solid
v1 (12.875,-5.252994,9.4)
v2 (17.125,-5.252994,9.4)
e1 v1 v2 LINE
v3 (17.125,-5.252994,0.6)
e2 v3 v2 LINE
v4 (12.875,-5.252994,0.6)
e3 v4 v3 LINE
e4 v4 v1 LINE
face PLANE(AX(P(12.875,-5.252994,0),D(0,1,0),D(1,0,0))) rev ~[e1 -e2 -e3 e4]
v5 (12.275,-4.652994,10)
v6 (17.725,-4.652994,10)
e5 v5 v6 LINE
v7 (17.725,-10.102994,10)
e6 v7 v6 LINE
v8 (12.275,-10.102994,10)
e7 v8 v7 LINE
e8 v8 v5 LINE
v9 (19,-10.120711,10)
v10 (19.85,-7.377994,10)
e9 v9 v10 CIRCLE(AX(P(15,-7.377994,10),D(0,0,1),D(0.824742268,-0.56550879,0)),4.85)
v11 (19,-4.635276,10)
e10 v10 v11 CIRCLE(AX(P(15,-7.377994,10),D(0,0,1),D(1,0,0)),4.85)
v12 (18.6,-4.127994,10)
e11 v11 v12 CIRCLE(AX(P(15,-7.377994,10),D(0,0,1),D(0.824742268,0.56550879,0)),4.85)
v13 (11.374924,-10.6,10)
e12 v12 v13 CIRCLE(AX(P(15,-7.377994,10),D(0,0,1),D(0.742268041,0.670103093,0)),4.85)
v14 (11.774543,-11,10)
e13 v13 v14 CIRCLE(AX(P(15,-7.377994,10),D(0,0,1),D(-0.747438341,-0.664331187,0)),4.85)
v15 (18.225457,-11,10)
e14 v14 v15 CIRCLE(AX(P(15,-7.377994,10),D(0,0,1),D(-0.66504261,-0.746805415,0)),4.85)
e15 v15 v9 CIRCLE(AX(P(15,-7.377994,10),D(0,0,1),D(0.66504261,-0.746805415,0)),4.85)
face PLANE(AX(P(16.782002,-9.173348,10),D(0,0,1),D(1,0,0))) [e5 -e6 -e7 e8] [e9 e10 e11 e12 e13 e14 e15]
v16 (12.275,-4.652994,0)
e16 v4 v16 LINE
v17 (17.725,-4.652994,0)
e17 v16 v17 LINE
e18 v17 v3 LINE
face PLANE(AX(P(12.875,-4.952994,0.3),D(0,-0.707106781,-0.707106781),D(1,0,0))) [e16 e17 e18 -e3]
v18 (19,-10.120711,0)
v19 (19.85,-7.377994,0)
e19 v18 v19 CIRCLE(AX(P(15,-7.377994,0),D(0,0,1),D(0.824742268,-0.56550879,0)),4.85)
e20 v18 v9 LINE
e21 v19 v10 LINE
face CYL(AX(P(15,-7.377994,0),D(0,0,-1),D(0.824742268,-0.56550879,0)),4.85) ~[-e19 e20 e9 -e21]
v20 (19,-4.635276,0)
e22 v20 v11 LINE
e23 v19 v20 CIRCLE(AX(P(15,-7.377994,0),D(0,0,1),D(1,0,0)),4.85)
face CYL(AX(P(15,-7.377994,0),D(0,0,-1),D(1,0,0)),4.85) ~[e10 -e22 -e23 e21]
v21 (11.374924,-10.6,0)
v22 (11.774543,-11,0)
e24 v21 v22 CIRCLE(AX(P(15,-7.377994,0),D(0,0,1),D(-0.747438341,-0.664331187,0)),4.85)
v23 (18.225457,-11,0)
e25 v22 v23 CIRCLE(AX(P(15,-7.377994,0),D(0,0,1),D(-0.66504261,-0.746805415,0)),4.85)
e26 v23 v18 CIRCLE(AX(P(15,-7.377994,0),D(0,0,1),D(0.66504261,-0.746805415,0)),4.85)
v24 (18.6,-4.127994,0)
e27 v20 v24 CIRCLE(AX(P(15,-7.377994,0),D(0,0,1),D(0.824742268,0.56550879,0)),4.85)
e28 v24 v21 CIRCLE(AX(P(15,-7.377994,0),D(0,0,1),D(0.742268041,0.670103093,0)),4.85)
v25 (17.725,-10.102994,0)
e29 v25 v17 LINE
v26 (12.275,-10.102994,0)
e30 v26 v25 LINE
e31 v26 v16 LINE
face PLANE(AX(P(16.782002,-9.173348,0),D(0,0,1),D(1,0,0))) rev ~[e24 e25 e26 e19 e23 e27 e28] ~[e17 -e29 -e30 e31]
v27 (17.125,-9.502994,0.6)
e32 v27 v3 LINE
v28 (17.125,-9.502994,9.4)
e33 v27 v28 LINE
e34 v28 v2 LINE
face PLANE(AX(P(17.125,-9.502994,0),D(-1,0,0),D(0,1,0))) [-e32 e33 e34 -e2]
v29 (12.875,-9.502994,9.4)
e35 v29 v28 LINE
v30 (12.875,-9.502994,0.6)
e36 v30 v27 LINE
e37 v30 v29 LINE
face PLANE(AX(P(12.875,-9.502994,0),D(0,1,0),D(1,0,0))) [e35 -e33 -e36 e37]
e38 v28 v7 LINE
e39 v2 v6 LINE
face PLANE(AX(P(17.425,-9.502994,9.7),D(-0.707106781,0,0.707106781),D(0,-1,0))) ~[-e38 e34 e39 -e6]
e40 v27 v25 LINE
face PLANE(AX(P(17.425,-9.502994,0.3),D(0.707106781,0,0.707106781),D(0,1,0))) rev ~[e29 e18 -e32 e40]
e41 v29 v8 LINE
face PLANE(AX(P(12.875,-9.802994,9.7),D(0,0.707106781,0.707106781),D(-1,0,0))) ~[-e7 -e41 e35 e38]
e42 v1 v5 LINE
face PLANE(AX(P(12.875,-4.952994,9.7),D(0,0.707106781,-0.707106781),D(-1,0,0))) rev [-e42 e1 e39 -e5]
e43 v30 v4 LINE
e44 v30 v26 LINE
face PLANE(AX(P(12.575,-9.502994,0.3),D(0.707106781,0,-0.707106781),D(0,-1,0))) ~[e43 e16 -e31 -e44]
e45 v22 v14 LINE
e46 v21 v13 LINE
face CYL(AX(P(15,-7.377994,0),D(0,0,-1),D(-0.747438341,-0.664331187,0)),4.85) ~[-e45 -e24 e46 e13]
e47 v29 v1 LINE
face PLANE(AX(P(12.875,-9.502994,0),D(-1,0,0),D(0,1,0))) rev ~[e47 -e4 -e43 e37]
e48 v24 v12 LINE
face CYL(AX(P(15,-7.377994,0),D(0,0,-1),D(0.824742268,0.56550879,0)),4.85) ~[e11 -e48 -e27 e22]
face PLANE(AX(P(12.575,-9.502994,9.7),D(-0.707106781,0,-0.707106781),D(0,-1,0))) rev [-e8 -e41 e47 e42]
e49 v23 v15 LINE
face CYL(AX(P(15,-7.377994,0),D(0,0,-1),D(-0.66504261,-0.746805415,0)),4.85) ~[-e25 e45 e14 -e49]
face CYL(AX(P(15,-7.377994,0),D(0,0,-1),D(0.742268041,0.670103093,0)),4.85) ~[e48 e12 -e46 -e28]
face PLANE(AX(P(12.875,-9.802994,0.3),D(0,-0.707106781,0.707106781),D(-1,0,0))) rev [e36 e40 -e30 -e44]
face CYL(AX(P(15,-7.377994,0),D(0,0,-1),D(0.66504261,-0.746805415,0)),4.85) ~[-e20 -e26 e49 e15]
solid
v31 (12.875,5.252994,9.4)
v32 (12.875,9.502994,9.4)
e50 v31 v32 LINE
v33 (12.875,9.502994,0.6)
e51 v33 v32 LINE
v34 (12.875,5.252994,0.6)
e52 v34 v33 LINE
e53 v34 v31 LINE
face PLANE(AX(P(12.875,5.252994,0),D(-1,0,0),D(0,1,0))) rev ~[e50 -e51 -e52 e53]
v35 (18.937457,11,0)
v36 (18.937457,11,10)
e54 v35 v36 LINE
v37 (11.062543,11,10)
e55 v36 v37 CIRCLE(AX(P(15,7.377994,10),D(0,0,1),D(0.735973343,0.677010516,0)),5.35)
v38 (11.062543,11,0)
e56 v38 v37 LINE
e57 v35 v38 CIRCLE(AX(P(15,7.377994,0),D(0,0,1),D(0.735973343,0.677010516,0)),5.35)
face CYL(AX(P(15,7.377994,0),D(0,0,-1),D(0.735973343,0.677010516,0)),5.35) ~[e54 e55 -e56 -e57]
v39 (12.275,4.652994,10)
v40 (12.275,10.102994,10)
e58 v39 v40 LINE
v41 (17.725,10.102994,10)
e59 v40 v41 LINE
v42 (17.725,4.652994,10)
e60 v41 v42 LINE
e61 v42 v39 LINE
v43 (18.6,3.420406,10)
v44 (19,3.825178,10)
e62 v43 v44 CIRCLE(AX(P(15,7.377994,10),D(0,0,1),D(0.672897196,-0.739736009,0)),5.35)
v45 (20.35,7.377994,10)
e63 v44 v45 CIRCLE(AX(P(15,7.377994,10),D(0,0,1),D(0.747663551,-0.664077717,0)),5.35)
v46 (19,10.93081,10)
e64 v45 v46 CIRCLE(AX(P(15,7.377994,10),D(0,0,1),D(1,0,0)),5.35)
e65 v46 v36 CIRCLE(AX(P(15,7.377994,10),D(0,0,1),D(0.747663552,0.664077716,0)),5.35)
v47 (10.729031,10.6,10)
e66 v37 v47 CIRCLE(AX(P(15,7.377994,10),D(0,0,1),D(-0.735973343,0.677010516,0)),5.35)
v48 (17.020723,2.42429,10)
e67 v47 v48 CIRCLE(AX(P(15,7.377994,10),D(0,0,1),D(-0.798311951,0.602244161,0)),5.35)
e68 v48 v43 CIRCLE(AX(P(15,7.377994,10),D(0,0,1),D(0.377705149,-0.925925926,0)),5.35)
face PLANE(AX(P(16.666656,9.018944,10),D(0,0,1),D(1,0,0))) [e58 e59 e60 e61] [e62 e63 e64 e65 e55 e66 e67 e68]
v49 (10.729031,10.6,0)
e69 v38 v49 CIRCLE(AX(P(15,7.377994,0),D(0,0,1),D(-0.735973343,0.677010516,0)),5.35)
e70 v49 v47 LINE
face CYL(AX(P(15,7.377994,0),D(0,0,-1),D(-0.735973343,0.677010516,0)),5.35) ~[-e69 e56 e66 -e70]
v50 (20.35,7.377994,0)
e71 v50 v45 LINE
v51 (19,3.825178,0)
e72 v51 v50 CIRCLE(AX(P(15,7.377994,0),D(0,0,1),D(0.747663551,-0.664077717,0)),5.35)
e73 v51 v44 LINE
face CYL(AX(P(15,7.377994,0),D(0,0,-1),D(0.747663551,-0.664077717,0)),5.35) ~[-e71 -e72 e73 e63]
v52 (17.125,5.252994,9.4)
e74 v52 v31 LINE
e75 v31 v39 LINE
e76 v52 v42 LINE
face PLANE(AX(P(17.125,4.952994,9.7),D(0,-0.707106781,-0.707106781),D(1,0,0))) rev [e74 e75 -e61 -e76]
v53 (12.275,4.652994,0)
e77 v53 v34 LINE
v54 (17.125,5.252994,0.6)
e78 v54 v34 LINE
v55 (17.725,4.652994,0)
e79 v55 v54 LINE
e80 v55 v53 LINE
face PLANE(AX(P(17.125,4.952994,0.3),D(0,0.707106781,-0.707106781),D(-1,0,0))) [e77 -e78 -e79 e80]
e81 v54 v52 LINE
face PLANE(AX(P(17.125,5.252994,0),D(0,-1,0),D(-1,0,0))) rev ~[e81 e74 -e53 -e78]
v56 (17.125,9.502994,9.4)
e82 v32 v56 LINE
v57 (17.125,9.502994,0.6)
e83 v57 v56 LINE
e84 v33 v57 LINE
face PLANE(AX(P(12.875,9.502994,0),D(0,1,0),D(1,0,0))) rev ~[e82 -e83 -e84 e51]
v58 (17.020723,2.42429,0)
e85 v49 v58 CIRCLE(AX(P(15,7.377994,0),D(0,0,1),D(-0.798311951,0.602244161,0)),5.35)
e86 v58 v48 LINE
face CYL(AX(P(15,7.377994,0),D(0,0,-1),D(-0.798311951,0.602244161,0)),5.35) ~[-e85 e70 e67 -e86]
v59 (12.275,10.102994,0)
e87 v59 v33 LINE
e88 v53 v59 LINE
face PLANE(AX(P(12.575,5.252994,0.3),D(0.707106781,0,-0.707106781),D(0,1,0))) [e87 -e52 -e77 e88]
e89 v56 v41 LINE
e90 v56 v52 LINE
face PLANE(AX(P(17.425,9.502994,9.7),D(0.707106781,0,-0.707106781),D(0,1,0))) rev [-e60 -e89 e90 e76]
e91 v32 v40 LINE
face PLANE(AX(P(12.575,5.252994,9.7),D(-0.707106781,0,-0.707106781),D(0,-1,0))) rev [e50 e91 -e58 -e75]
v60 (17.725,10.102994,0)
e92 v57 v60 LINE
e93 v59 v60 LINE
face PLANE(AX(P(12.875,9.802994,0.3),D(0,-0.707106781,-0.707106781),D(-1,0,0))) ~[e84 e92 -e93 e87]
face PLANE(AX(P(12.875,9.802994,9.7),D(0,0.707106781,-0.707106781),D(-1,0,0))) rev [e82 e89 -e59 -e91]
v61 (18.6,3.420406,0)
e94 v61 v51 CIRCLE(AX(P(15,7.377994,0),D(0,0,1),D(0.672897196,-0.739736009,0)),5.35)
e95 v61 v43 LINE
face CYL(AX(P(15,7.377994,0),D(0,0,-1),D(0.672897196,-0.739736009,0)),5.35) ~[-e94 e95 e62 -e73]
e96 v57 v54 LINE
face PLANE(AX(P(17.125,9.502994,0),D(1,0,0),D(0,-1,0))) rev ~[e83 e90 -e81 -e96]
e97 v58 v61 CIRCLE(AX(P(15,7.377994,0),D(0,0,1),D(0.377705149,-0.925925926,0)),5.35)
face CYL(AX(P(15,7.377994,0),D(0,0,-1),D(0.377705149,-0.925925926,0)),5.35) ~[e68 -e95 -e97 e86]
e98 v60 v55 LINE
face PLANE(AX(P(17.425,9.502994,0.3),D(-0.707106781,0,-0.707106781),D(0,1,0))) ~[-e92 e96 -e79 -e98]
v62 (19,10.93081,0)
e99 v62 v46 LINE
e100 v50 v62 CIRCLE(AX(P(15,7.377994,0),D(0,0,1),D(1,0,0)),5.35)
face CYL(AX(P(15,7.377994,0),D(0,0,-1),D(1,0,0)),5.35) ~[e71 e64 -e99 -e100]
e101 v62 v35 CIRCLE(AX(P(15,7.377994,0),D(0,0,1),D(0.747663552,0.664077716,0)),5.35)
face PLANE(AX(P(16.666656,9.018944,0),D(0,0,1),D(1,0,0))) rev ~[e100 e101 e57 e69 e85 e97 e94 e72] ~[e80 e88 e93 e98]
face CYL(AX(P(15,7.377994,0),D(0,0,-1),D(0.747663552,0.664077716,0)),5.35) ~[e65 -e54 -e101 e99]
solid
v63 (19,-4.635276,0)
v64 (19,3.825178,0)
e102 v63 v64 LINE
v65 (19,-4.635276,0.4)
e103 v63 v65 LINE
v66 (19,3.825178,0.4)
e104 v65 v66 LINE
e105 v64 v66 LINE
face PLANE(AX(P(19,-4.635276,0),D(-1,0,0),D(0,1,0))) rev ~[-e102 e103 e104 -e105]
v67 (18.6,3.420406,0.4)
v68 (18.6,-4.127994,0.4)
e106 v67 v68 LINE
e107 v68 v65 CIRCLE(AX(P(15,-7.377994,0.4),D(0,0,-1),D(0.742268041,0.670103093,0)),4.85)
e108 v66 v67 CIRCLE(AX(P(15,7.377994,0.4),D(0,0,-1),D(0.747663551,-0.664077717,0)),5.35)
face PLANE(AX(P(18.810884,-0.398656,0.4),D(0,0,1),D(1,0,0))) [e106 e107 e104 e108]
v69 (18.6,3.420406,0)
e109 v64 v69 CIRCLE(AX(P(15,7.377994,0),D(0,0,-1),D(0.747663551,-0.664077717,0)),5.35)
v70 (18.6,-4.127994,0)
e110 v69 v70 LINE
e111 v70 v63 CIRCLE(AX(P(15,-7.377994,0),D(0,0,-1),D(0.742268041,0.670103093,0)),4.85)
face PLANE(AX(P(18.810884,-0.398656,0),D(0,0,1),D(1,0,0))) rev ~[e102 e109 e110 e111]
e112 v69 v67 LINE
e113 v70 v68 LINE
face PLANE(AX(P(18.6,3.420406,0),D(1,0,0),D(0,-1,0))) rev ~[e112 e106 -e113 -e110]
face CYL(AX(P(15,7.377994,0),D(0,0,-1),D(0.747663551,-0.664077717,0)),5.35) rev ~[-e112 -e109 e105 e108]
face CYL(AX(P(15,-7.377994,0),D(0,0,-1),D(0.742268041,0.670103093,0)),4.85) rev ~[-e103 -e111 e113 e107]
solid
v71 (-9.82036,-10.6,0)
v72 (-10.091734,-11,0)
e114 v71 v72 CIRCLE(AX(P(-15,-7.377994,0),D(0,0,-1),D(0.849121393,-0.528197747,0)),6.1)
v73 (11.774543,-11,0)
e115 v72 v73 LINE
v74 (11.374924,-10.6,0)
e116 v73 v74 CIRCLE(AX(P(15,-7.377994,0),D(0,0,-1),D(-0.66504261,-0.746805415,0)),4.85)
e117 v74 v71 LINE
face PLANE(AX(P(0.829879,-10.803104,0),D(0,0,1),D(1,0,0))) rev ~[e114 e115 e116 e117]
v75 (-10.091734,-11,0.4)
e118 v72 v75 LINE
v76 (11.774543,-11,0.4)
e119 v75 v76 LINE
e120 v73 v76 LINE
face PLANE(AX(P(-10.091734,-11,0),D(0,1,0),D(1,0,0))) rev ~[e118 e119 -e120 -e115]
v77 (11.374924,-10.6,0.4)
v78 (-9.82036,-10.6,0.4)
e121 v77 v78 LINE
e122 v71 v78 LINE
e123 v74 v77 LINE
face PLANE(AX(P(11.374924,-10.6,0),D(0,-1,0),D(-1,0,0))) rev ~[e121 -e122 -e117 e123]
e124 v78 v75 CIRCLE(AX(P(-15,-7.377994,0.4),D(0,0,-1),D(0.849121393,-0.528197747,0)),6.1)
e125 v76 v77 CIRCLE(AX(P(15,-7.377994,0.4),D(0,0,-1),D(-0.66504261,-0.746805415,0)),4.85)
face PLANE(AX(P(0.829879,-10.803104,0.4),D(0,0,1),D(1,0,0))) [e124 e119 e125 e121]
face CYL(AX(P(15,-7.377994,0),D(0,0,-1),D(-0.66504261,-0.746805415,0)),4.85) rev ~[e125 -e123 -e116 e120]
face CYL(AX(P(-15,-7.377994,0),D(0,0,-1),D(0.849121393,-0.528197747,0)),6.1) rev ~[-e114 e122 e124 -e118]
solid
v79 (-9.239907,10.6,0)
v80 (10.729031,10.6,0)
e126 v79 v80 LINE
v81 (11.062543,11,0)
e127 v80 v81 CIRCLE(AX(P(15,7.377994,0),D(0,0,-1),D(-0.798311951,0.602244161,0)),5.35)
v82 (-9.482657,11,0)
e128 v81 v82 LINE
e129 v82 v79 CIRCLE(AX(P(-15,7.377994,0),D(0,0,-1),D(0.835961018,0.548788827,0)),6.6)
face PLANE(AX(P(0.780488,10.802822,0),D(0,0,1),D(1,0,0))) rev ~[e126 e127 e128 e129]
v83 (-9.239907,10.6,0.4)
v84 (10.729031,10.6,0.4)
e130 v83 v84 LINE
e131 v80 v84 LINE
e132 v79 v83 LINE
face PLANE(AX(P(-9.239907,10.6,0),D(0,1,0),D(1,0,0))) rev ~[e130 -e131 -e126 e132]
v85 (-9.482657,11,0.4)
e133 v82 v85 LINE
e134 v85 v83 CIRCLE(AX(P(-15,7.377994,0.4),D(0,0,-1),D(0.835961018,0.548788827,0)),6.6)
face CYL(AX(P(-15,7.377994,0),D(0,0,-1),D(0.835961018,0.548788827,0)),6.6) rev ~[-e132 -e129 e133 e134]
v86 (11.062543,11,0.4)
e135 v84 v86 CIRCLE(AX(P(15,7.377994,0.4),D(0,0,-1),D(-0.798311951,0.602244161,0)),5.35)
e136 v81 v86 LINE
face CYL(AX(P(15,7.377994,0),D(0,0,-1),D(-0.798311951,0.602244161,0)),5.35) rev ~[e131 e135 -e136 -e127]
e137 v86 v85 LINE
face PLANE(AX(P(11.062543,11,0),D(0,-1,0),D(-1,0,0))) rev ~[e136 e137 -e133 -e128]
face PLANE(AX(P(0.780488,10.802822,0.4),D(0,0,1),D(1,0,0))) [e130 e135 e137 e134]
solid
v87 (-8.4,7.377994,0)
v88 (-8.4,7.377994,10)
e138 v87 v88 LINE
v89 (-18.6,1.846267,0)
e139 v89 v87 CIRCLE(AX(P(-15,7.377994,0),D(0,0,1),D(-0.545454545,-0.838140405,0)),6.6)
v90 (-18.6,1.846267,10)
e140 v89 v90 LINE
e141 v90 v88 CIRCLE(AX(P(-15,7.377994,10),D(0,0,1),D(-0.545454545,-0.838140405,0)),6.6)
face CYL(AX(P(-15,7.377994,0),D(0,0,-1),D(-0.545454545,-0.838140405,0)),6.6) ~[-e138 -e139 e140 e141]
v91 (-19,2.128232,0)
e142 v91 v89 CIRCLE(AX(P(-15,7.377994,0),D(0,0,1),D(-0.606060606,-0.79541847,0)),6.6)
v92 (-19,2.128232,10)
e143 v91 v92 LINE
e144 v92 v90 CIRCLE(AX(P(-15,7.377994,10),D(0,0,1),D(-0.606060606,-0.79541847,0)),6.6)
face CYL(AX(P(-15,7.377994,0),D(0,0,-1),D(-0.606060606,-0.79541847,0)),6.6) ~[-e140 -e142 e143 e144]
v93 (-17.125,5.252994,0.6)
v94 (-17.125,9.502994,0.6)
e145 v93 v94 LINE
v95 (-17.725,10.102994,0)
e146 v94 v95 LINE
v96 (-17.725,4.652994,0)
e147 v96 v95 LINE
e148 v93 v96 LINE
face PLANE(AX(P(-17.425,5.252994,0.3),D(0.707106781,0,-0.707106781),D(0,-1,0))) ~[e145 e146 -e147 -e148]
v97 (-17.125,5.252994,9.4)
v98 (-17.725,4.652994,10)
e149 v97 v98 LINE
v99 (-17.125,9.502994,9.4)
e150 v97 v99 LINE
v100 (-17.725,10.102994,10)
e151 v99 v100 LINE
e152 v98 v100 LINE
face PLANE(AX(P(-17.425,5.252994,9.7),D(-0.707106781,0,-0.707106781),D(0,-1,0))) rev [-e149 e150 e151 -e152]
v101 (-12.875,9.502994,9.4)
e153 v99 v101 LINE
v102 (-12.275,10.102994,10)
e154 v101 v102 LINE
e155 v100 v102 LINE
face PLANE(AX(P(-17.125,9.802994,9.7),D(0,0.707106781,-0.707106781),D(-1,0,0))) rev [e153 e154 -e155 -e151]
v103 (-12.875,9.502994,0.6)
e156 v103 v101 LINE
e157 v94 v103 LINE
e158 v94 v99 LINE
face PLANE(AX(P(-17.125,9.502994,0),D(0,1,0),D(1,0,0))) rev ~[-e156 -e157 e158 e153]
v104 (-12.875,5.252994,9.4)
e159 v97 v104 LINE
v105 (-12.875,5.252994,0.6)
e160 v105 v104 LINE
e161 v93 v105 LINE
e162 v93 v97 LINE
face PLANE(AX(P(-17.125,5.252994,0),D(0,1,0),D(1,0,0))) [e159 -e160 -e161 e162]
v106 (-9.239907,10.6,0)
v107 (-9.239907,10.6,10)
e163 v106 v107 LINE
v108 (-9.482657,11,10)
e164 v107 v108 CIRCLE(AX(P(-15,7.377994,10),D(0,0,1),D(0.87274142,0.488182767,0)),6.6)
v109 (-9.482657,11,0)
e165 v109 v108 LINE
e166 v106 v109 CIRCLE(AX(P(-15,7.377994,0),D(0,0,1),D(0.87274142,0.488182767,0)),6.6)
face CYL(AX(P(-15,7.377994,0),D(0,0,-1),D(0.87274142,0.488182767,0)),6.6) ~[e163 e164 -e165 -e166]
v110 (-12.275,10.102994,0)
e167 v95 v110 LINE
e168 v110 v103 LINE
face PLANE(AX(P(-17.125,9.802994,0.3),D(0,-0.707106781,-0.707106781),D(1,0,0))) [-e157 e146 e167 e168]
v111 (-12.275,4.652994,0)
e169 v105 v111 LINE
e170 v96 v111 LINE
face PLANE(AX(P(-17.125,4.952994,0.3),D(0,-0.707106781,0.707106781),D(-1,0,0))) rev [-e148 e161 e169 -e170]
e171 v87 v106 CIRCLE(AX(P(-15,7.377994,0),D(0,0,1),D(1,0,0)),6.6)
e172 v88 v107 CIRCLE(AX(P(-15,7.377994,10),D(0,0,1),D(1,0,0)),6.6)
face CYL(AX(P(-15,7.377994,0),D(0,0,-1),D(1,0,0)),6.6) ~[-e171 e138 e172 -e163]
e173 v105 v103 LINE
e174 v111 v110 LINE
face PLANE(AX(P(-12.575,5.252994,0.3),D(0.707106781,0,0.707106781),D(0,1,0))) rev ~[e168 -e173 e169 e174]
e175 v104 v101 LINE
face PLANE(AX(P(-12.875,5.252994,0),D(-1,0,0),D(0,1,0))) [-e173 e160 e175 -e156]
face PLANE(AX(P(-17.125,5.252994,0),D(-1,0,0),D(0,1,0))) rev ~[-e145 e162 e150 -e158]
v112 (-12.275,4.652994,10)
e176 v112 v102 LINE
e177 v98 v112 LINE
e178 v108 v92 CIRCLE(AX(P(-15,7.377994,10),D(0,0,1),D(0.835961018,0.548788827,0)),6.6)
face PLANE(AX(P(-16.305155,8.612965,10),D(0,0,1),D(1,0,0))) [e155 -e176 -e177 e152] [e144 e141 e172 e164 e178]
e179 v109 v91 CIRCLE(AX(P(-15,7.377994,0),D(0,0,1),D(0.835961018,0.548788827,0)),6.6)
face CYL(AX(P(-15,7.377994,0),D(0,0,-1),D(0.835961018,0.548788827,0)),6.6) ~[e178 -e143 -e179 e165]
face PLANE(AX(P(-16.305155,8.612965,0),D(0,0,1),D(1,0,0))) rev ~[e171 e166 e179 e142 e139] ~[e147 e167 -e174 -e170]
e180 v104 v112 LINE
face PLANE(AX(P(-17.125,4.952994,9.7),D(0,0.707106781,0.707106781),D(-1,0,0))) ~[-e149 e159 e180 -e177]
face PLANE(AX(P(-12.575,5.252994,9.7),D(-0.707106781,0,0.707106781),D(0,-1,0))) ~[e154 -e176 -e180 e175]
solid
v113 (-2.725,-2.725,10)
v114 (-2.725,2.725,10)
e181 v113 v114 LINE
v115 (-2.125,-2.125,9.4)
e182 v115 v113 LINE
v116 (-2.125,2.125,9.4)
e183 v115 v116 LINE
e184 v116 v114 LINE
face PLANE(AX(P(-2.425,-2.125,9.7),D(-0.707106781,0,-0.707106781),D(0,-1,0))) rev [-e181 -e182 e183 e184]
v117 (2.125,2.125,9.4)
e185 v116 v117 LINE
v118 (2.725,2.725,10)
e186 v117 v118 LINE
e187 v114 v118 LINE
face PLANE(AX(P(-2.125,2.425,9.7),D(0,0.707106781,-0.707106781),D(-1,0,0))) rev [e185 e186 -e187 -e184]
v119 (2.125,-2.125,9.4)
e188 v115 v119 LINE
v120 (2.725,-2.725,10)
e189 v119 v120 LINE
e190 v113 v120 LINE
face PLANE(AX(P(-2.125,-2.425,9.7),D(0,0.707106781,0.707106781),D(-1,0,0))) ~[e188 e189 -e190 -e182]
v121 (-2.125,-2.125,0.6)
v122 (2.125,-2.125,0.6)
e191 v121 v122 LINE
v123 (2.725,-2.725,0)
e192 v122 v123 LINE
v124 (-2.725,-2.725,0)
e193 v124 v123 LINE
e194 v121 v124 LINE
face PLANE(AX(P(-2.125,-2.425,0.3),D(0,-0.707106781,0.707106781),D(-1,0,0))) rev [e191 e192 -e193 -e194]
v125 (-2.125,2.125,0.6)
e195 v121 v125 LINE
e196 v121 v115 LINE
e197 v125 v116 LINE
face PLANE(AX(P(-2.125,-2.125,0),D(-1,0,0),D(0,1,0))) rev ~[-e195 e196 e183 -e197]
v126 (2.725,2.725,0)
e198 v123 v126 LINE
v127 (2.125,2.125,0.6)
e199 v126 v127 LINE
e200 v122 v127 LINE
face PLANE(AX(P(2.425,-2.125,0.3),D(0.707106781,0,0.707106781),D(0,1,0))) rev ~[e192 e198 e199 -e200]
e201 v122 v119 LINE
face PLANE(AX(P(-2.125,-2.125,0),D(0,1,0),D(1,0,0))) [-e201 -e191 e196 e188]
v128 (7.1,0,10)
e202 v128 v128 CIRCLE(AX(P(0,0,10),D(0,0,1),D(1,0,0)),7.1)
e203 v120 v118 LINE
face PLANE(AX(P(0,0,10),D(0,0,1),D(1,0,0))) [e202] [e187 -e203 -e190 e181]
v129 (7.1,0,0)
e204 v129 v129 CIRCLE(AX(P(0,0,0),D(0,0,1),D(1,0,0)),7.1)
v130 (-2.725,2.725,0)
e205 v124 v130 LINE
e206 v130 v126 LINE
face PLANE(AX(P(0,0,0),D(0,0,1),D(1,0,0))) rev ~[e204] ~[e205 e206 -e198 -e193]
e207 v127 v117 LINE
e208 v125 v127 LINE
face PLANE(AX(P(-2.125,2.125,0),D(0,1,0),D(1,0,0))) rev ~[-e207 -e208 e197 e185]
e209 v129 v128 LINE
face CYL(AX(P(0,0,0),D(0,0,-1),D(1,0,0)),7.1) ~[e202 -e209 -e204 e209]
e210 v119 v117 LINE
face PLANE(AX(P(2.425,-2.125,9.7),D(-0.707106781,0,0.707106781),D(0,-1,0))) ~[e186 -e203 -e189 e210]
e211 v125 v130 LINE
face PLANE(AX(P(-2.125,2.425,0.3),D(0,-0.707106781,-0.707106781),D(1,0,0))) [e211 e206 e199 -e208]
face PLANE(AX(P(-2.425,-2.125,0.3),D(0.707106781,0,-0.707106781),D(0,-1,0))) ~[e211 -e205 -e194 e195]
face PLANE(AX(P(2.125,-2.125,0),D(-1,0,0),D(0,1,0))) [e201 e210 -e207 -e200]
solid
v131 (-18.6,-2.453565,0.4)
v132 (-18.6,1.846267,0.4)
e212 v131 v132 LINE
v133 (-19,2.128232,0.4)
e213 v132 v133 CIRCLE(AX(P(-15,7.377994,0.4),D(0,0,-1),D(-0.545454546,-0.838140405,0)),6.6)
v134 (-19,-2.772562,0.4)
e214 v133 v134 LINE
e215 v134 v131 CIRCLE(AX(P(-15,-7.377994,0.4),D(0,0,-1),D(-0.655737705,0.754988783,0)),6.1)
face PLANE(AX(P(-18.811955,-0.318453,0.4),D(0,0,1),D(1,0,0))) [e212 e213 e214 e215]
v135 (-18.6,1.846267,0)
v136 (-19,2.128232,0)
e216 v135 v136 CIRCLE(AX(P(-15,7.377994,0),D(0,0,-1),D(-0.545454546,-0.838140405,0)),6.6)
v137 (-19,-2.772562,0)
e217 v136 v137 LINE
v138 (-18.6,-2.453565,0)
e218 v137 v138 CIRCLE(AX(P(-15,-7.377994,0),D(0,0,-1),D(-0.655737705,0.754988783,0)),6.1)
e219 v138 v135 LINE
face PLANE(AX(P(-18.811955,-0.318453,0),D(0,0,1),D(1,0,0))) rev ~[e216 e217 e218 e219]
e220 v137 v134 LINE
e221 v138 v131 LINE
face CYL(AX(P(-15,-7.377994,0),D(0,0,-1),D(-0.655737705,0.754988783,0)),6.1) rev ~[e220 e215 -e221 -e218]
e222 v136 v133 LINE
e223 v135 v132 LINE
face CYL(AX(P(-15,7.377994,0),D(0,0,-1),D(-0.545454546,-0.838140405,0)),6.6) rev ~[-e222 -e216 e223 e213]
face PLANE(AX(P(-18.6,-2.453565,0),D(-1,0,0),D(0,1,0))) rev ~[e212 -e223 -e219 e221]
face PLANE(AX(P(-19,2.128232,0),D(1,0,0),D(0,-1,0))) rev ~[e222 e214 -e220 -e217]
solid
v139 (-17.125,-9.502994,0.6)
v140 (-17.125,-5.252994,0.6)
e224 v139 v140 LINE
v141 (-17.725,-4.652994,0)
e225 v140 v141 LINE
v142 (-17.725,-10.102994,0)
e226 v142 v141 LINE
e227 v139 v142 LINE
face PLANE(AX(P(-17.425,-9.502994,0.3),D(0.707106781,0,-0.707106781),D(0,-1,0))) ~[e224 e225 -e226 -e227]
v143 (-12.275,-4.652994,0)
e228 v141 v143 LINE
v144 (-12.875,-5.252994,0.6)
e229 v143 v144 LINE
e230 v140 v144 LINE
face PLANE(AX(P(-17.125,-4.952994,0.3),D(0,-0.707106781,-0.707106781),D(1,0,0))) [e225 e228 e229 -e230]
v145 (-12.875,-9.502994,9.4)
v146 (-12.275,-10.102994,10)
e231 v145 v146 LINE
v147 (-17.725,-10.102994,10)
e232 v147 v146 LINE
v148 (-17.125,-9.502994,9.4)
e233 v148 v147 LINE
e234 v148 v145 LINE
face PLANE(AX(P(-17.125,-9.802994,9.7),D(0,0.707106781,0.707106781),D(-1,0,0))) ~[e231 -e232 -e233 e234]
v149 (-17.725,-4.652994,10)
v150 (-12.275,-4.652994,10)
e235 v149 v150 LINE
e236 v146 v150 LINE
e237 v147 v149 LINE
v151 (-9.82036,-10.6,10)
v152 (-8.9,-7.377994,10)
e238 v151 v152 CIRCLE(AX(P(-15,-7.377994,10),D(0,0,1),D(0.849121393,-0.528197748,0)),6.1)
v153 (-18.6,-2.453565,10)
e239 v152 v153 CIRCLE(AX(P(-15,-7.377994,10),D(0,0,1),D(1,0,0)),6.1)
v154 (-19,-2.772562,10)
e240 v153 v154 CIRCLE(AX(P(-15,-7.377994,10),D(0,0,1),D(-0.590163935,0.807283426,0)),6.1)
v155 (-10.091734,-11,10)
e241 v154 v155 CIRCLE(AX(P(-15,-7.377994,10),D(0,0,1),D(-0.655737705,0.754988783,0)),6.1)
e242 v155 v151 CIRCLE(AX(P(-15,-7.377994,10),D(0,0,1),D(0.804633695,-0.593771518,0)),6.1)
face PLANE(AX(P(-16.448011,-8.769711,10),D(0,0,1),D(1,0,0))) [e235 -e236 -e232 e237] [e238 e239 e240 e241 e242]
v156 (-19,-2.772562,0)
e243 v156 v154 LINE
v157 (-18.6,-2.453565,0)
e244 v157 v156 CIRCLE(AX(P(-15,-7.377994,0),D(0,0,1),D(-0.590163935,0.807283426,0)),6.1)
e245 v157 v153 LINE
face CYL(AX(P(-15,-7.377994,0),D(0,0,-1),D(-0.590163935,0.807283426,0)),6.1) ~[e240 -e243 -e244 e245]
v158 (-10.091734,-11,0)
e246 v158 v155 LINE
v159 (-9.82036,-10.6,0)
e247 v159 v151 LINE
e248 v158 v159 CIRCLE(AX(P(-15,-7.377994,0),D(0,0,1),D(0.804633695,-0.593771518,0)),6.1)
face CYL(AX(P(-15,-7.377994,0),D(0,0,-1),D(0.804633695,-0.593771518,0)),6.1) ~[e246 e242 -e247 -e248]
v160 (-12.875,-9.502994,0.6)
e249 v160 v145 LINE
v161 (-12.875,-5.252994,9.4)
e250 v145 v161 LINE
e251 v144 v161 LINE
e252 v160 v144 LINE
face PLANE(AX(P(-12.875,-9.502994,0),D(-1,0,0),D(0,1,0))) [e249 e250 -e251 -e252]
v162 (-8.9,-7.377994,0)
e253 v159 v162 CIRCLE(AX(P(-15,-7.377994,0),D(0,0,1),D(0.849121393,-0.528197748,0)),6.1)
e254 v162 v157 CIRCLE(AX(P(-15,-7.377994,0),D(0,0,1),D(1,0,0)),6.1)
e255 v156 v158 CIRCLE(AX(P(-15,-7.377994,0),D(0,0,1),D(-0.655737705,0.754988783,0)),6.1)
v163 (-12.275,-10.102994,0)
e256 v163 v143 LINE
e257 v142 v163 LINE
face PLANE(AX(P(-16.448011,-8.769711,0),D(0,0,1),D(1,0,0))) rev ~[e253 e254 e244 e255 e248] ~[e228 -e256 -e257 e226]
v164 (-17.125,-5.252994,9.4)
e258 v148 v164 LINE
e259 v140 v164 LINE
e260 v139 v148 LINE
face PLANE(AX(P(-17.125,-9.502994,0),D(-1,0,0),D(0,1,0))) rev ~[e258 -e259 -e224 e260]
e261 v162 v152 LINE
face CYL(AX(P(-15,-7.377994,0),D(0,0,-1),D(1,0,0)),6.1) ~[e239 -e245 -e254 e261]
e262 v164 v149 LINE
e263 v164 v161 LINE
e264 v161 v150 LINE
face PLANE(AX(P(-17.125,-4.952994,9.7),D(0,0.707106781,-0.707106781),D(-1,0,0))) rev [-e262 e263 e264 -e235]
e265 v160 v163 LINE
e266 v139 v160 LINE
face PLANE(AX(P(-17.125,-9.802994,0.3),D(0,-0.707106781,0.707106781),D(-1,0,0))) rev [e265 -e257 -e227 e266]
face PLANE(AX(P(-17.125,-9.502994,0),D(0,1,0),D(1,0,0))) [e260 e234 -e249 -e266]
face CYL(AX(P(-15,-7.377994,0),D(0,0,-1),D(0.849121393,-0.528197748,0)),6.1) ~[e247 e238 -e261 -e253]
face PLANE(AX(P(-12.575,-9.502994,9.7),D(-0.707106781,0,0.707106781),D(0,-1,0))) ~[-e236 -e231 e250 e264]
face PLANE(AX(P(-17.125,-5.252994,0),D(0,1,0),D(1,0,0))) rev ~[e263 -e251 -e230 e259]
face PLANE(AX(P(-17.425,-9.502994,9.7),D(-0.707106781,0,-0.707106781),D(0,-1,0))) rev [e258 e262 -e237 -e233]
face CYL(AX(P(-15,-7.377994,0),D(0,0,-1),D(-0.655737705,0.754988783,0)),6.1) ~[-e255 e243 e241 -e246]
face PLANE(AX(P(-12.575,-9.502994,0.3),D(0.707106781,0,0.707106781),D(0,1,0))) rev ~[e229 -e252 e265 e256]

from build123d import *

# Parameters (mm, degrees)
F0_W      = 4.25
F0_H      = 4.25
F1_DEPTH  = 10
F0_R      = 7.1
F2_SIZE   = 0.6
F2_2_SIZE = 0.6
F2_3_SIZE = 0.6
F2_4_SIZE = 0.6
F2_5_SIZE = 0.6
F3_SIZE   = 0.6
F3_2_SIZE = 0.6
F3_3_SIZE = 0.6
F3_4_SIZE = 0.6
F3_5_SIZE = 0.6
F4_DEPTH  = 0.4


with BuildPart() as f1:
    # F0 (on Top) → F1 (new body)
    with BuildSketch(Plane.XY):
        with BuildLine():
            ThreePointArc((19, -4.6352761092), (18.8084555729, -4.3749675743), (18.6, -4.1279937396))
            Line((18.6, -4.1279937396), (18.6, -10.6))
            Line((18.6, -10.6), (11.374924048, -10.6))
            ThreePointArc((11.374924048, -10.6), (11.5688997014, -10.8058284412), (11.7745433424, -11))
            Line((11.7745433424, -11), (18.2254566576, -11))
            ThreePointArc((18.2254566576, -11), (18.6393808679, -10.5838332395), (19, -10.12071137))
            Line((19, -10.12071137), (19, -4.6352761092))
        make_face()
        with BuildLine():
            Line((18.2254566576, -11), (11.7745433424, -11))
            ThreePointArc((11.7745433424, -11), (15, -12.2279937396), (18.2254566576, -11))
        make_face()
        with BuildLine():
            ThreePointArc((19.85, -7.3779937396), (19.6326288433, -5.9422883381), (19, -4.6352761092))
            Line((19, -4.6352761092), (19, -10.12071137))
            ThreePointArc((19, -10.12071137), (19.6326288433, -8.8136991412), (19.85, -7.3779937396))
        make_face()
        with BuildLine():
            Line((18.6, -10.6), (18.6, -4.1279937396))
            ThreePointArc((18.6, -4.1279937396), (11.7639725806, -3.7654286481), (11.374924048, -10.6))
            Line((11.374924048, -10.6), (18.6, -10.6))
        make_face()
        with Locations((15, -7.3779937396)):
            Rectangle(F0_W, F0_H, mode=Mode.SUBTRACT)
    extrude(amount=F1_DEPTH)

    # F2#2
    f2_2_edges = [f1.edges().sort_by_distance(p)[0] for p in [
        (12.875, -7.377994, 10),
        (15, -5.252994, 10),
        (17.125, -7.377994, 10),
        (15, -9.502994, 10),
    ]]
    chamfer(f2_2_edges, length=F2_2_SIZE)

    # F3#5
    f3_5_edges = [f1.edges().sort_by_distance(p)[0] for p in [
        (12.875, -7.377994, 0),
        (15, -9.502994, 0),
        (17.125, -7.377994, 0),
        (15, -5.252994, 0),
    ]]
    chamfer(f3_5_edges, length=F3_5_SIZE)


with BuildPart() as f1b:
    # F0 (on Top) → F1, piece 2 (new body)
    with BuildSketch(Plane.XY):
        with BuildLine():
            Line((-18.6, 10.6), (-9.2399066277, 10.6))
            ThreePointArc((-9.2399066277, 10.6), (-9.357736165, 10.8021518575), (-9.4826572836, 11))
            Line((-9.4826572836, 11), (-19, 11))
            Line((-19, 11), (-19, 2.1282318403))
            ThreePointArc((-19, 2.1282318403), (-18.8026143682, 1.9835406657), (-18.6, 1.8462670652))
            Line((-18.6, 1.8462670652), (-18.6, 10.6))
        make_face()
        with BuildLine():
            Line((-19, 11), (-9.4826572836, 11))
            ThreePointArc((-9.4826572836, 11), (-19.5002944126, 12.2057623961), (-19, 2.1282318403))
            Line((-19, 2.1282318403), (-19, 11))
        make_face()
        with BuildLine():
            ThreePointArc((-18.6, 1.8462670652), (-11.8535734555, 1.5762698579), (-8.4, 7.3779937396))
            ThreePointArc((-8.4, 7.3779937396), (-8.6134275132, 9.0428336332), (-9.2399066277, 10.6))
            Line((-9.2399066277, 10.6), (-18.6, 10.6))
            Line((-18.6, 10.6), (-18.6, 1.8462670652))
        make_face()
        with Locations((-15, 7.3779937396)):
            Rectangle(F0_W, F0_H, mode=Mode.SUBTRACT)
    extrude(amount=F1_DEPTH)

    # F2#5
    f2_5_edges = [f1b.edges().sort_by_distance(p)[0] for p in [
        (-17.125, 7.377994, 10),
        (-15, 5.252994, 10),
        (-12.875, 7.377994, 10),
        (-15, 9.502994, 10),
    ]]
    chamfer(f2_5_edges, length=F2_5_SIZE)

    # F3
    f3_edges = [f1b.edges().sort_by_distance(p)[0] for p in [
        (-15, 5.252994, 0),
        (-17.125, 7.377994, 0),
        (-15, 9.502994, 0),
        (-12.875, 7.377994, 0),
    ]]
    chamfer(f3_edges, length=F3_SIZE)


with BuildPart() as f1c:
    # F0 (on Top) → F1, piece 3 (new body)
    with BuildSketch(Plane.XY):
        with BuildLine():
            Line((-18.6, -10.6), (-18.6, -2.4535648387))
            ThreePointArc((-18.6, -2.4535648387), (-18.8033458722, -2.6088680151), (-19, -2.7725621638))
            Line((-19, -2.7725621638), (-19, -11))
            Line((-19, -11), (-10.0917344561, -11))
            ThreePointArc((-10.0917344561, -11), (-9.9520833938, -10.8026890454), (-9.8203595049, -10.6))
            Line((-9.8203595049, -10.6), (-18.6, -10.6))
        make_face()
        with BuildLine():
            ThreePointArc((-8.9, -7.3779937396), (-12.2386597457, -1.9387842382), (-18.6, -2.4535648387))
            Line((-18.6, -2.4535648387), (-18.6, -10.6))
            Line((-18.6, -10.6), (-9.8203595049, -10.6))
            ThreePointArc((-9.8203595049, -10.6), (-9.1346011636, -9.0534329328), (-8.9, -7.3779937396))
        make_face()
        with Locations((-15, -7.3779937396)):
            Rectangle(F0_W, F0_H, mode=Mode.SUBTRACT)
        with BuildLine():
            Line((-19, -11), (-19, -2.7725621638))
            ThreePointArc((-19, -2.7725621638), (-19.1387099333, -11.8591855552), (-10.0917344561, -11))
            Line((-10.0917344561, -11), (-19, -11))
        make_face()
    extrude(amount=F1_DEPTH)

    # F2#4
    f2_4_edges = [f1c.edges().sort_by_distance(p)[0] for p in [
        (-17.125, -7.377994, 10),
        (-15, -9.502994, 10),
        (-15, -5.252994, 10),
        (-12.875, -7.377994, 10),
    ]]
    chamfer(f2_4_edges, length=F2_4_SIZE)

    # F3#2
    f3_2_edges = [f1c.edges().sort_by_distance(p)[0] for p in [
        (-17.125, -7.377994, 0),
        (-15, -9.502994, 0),
        (-12.875, -7.377994, 0),
        (-15, -5.252994, 0),
    ]]
    chamfer(f3_2_edges, length=F3_2_SIZE)


with BuildPart() as f1d:
    # F0 (on Top) → F1, piece 4 (new body)
    with BuildSketch(Plane.XY):
        Circle(F0_R)
        Rectangle(F0_W, F0_H, mode=Mode.SUBTRACT)
    extrude(amount=F1_DEPTH)

    # F2
    f2_edges = [f1d.edges().sort_by_distance(p)[0] for p in [
        (-2.125, 0, 10),
        (0, -2.125, 10),
        (0, 2.125, 10),
        (2.125, 0, 10),
    ]]
    chamfer(f2_edges, length=F2_SIZE)

    # F3#3
    f3_3_edges = [f1d.edges().sort_by_distance(p)[0] for p in [
        (-2.125, 0, 0),
        (0, -2.125, 0),
        (2.125, 0, 0),
        (0, 2.125, 0),
    ]]
    chamfer(f3_3_edges, length=F3_3_SIZE)


with BuildPart() as f1e:
    # F0 (on Top) → F1, piece 5 (new body)
    with BuildSketch(Plane.XY):
        with BuildLine():
            ThreePointArc((11.0625426161, 11), (10.890916688, 10.8040606297), (10.7290310633, 10.6))
            Line((10.7290310633, 10.6), (18.6, 10.6))
            Line((18.6, 10.6), (18.6, 3.4204060906))
            ThreePointArc((18.6, 3.4204060906), (18.8053856658, 3.6174698487), (19, 3.8251779549))
            Line((19, 3.8251779549), (19, 10.9308095243))
            ThreePointArc((19, 10.9308095243), (18.9688794717, 10.9655410549), (18.9374573839, 11))
            Line((18.9374573839, 11), (11.0625426161, 11))
        make_face()
        with BuildLine():
            ThreePointArc((20.35, 7.3779937396), (20.0011248735, 9.2783226585), (19, 10.9308095243))
            Line((19, 10.9308095243), (19, 3.8251779549))
            ThreePointArc((19, 3.8251779549), (20.0011248735, 5.4776648207), (20.35, 7.3779937396))
        make_face()
        with BuildLine():
            ThreePointArc((18.9374573839, 11), (15, 12.7279937396), (11.0625426161, 11))
            Line((11.0625426161, 11), (18.9374573839, 11))
        make_face()
        with BuildLine():
            Line((18.6, 10.6), (10.7290310633, 10.6))
            ThreePointArc((10.7290310633, 10.6), (10.7601343704, 4.1151668298), (17.020722548, 2.4242900359))
            ThreePointArc((17.020722548, 2.4242900359), (17.8541535153, 2.8529183026), (18.6, 3.4204060906))
            Line((18.6, 3.4204060906), (18.6, 10.6))
        make_face()
        Polygon((17.125, 5.2529937396), (17.020722548, 5.2529937396), (12.875, 5.2529937396), (12.875, 9.5029937396), (17.125, 9.5029937396), align=None, mode=Mode.SUBTRACT)
    extrude(amount=F1_DEPTH)

    # F2#3
    f2_3_edges = [f1e.edges().sort_by_distance(p)[0] for p in [
        (12.875, 7.377994, 10),
        (15, 9.502994, 10),
        (15, 5.252994, 10),
        (17.125, 7.377994, 10),
    ]]
    chamfer(f2_3_edges, length=F2_3_SIZE)

    # F3#4
    f3_4_edges = [f1e.edges().sort_by_distance(p)[0] for p in [
        (12.875, 7.377994, 0),
        (15, 5.252994, 0),
        (17.125, 7.377994, 0),
        (15, 9.502994, 0),
    ]]
    chamfer(f3_4_edges, length=F3_4_SIZE)


with BuildPart() as f4:
    # F0 (on Top) → F4 (new body)
    with BuildSketch(Plane.XY):
        with BuildLine():
            Line((-18.6, -2.4535648387), (-18.6, 1.8462670652))
            ThreePointArc((-18.6, 1.8462670652), (-18.8026143682, 1.9835406657), (-19, 2.1282318403))
            Line((-19, 2.1282318403), (-19, -2.7725621638))
            ThreePointArc((-19, -2.7725621638), (-18.8033458722, -2.6088680151), (-18.6, -2.4535648387))
        make_face()
    extrude(amount=F4_DEPTH)


with BuildPart() as f4b:
    # F0 (on Top) → F4, piece 2 (new body)
    with BuildSketch(Plane.XY):
        with BuildLine():
            ThreePointArc((-9.8203595049, -10.6), (-9.9520833938, -10.8026890454), (-10.0917344561, -11))
            Line((-10.0917344561, -11), (11.7745433424, -11))
            ThreePointArc((11.7745433424, -11), (11.5688997014, -10.8058284412), (11.374924048, -10.6))
            Line((11.374924048, -10.6), (-9.8203595049, -10.6))
        make_face()
    extrude(amount=F4_DEPTH)


with BuildPart() as f4c:
    # F0 (on Top) → F4, piece 3 (new body)
    with BuildSketch(Plane.XY):
        with BuildLine():
            ThreePointArc((19, 3.8251779549), (18.8053856658, 3.6174698487), (18.6, 3.4204060906))
            Line((18.6, 3.4204060906), (18.6, -4.1279937396))
            ThreePointArc((18.6, -4.1279937396), (18.8084555729, -4.3749675743), (19, -4.6352761092))
            Line((19, -4.6352761092), (19, 3.8251779549))
        make_face()
    extrude(amount=F4_DEPTH)


with BuildPart() as f4d:
    # F0 (on Top) → F4, piece 4 (new body)
    with BuildSketch(Plane.XY):
        with BuildLine():
            ThreePointArc((-9.4826572836, 11), (-9.357736165, 10.8021518575), (-9.2399066277, 10.6))
            Line((-9.2399066277, 10.6), (10.7290310633, 10.6))
            ThreePointArc((10.7290310633, 10.6), (10.890916688, 10.8040606297), (11.0625426161, 11))
            Line((11.0625426161, 11), (-9.4826572836, 11))
        make_face()
    extrude(amount=F4_DEPTH)


solid = Compound([f1.part, f1b.part, f1c.part, f1d.part, f1e.part, f4.part, f4b.part, f4c.part, f4d.part])
